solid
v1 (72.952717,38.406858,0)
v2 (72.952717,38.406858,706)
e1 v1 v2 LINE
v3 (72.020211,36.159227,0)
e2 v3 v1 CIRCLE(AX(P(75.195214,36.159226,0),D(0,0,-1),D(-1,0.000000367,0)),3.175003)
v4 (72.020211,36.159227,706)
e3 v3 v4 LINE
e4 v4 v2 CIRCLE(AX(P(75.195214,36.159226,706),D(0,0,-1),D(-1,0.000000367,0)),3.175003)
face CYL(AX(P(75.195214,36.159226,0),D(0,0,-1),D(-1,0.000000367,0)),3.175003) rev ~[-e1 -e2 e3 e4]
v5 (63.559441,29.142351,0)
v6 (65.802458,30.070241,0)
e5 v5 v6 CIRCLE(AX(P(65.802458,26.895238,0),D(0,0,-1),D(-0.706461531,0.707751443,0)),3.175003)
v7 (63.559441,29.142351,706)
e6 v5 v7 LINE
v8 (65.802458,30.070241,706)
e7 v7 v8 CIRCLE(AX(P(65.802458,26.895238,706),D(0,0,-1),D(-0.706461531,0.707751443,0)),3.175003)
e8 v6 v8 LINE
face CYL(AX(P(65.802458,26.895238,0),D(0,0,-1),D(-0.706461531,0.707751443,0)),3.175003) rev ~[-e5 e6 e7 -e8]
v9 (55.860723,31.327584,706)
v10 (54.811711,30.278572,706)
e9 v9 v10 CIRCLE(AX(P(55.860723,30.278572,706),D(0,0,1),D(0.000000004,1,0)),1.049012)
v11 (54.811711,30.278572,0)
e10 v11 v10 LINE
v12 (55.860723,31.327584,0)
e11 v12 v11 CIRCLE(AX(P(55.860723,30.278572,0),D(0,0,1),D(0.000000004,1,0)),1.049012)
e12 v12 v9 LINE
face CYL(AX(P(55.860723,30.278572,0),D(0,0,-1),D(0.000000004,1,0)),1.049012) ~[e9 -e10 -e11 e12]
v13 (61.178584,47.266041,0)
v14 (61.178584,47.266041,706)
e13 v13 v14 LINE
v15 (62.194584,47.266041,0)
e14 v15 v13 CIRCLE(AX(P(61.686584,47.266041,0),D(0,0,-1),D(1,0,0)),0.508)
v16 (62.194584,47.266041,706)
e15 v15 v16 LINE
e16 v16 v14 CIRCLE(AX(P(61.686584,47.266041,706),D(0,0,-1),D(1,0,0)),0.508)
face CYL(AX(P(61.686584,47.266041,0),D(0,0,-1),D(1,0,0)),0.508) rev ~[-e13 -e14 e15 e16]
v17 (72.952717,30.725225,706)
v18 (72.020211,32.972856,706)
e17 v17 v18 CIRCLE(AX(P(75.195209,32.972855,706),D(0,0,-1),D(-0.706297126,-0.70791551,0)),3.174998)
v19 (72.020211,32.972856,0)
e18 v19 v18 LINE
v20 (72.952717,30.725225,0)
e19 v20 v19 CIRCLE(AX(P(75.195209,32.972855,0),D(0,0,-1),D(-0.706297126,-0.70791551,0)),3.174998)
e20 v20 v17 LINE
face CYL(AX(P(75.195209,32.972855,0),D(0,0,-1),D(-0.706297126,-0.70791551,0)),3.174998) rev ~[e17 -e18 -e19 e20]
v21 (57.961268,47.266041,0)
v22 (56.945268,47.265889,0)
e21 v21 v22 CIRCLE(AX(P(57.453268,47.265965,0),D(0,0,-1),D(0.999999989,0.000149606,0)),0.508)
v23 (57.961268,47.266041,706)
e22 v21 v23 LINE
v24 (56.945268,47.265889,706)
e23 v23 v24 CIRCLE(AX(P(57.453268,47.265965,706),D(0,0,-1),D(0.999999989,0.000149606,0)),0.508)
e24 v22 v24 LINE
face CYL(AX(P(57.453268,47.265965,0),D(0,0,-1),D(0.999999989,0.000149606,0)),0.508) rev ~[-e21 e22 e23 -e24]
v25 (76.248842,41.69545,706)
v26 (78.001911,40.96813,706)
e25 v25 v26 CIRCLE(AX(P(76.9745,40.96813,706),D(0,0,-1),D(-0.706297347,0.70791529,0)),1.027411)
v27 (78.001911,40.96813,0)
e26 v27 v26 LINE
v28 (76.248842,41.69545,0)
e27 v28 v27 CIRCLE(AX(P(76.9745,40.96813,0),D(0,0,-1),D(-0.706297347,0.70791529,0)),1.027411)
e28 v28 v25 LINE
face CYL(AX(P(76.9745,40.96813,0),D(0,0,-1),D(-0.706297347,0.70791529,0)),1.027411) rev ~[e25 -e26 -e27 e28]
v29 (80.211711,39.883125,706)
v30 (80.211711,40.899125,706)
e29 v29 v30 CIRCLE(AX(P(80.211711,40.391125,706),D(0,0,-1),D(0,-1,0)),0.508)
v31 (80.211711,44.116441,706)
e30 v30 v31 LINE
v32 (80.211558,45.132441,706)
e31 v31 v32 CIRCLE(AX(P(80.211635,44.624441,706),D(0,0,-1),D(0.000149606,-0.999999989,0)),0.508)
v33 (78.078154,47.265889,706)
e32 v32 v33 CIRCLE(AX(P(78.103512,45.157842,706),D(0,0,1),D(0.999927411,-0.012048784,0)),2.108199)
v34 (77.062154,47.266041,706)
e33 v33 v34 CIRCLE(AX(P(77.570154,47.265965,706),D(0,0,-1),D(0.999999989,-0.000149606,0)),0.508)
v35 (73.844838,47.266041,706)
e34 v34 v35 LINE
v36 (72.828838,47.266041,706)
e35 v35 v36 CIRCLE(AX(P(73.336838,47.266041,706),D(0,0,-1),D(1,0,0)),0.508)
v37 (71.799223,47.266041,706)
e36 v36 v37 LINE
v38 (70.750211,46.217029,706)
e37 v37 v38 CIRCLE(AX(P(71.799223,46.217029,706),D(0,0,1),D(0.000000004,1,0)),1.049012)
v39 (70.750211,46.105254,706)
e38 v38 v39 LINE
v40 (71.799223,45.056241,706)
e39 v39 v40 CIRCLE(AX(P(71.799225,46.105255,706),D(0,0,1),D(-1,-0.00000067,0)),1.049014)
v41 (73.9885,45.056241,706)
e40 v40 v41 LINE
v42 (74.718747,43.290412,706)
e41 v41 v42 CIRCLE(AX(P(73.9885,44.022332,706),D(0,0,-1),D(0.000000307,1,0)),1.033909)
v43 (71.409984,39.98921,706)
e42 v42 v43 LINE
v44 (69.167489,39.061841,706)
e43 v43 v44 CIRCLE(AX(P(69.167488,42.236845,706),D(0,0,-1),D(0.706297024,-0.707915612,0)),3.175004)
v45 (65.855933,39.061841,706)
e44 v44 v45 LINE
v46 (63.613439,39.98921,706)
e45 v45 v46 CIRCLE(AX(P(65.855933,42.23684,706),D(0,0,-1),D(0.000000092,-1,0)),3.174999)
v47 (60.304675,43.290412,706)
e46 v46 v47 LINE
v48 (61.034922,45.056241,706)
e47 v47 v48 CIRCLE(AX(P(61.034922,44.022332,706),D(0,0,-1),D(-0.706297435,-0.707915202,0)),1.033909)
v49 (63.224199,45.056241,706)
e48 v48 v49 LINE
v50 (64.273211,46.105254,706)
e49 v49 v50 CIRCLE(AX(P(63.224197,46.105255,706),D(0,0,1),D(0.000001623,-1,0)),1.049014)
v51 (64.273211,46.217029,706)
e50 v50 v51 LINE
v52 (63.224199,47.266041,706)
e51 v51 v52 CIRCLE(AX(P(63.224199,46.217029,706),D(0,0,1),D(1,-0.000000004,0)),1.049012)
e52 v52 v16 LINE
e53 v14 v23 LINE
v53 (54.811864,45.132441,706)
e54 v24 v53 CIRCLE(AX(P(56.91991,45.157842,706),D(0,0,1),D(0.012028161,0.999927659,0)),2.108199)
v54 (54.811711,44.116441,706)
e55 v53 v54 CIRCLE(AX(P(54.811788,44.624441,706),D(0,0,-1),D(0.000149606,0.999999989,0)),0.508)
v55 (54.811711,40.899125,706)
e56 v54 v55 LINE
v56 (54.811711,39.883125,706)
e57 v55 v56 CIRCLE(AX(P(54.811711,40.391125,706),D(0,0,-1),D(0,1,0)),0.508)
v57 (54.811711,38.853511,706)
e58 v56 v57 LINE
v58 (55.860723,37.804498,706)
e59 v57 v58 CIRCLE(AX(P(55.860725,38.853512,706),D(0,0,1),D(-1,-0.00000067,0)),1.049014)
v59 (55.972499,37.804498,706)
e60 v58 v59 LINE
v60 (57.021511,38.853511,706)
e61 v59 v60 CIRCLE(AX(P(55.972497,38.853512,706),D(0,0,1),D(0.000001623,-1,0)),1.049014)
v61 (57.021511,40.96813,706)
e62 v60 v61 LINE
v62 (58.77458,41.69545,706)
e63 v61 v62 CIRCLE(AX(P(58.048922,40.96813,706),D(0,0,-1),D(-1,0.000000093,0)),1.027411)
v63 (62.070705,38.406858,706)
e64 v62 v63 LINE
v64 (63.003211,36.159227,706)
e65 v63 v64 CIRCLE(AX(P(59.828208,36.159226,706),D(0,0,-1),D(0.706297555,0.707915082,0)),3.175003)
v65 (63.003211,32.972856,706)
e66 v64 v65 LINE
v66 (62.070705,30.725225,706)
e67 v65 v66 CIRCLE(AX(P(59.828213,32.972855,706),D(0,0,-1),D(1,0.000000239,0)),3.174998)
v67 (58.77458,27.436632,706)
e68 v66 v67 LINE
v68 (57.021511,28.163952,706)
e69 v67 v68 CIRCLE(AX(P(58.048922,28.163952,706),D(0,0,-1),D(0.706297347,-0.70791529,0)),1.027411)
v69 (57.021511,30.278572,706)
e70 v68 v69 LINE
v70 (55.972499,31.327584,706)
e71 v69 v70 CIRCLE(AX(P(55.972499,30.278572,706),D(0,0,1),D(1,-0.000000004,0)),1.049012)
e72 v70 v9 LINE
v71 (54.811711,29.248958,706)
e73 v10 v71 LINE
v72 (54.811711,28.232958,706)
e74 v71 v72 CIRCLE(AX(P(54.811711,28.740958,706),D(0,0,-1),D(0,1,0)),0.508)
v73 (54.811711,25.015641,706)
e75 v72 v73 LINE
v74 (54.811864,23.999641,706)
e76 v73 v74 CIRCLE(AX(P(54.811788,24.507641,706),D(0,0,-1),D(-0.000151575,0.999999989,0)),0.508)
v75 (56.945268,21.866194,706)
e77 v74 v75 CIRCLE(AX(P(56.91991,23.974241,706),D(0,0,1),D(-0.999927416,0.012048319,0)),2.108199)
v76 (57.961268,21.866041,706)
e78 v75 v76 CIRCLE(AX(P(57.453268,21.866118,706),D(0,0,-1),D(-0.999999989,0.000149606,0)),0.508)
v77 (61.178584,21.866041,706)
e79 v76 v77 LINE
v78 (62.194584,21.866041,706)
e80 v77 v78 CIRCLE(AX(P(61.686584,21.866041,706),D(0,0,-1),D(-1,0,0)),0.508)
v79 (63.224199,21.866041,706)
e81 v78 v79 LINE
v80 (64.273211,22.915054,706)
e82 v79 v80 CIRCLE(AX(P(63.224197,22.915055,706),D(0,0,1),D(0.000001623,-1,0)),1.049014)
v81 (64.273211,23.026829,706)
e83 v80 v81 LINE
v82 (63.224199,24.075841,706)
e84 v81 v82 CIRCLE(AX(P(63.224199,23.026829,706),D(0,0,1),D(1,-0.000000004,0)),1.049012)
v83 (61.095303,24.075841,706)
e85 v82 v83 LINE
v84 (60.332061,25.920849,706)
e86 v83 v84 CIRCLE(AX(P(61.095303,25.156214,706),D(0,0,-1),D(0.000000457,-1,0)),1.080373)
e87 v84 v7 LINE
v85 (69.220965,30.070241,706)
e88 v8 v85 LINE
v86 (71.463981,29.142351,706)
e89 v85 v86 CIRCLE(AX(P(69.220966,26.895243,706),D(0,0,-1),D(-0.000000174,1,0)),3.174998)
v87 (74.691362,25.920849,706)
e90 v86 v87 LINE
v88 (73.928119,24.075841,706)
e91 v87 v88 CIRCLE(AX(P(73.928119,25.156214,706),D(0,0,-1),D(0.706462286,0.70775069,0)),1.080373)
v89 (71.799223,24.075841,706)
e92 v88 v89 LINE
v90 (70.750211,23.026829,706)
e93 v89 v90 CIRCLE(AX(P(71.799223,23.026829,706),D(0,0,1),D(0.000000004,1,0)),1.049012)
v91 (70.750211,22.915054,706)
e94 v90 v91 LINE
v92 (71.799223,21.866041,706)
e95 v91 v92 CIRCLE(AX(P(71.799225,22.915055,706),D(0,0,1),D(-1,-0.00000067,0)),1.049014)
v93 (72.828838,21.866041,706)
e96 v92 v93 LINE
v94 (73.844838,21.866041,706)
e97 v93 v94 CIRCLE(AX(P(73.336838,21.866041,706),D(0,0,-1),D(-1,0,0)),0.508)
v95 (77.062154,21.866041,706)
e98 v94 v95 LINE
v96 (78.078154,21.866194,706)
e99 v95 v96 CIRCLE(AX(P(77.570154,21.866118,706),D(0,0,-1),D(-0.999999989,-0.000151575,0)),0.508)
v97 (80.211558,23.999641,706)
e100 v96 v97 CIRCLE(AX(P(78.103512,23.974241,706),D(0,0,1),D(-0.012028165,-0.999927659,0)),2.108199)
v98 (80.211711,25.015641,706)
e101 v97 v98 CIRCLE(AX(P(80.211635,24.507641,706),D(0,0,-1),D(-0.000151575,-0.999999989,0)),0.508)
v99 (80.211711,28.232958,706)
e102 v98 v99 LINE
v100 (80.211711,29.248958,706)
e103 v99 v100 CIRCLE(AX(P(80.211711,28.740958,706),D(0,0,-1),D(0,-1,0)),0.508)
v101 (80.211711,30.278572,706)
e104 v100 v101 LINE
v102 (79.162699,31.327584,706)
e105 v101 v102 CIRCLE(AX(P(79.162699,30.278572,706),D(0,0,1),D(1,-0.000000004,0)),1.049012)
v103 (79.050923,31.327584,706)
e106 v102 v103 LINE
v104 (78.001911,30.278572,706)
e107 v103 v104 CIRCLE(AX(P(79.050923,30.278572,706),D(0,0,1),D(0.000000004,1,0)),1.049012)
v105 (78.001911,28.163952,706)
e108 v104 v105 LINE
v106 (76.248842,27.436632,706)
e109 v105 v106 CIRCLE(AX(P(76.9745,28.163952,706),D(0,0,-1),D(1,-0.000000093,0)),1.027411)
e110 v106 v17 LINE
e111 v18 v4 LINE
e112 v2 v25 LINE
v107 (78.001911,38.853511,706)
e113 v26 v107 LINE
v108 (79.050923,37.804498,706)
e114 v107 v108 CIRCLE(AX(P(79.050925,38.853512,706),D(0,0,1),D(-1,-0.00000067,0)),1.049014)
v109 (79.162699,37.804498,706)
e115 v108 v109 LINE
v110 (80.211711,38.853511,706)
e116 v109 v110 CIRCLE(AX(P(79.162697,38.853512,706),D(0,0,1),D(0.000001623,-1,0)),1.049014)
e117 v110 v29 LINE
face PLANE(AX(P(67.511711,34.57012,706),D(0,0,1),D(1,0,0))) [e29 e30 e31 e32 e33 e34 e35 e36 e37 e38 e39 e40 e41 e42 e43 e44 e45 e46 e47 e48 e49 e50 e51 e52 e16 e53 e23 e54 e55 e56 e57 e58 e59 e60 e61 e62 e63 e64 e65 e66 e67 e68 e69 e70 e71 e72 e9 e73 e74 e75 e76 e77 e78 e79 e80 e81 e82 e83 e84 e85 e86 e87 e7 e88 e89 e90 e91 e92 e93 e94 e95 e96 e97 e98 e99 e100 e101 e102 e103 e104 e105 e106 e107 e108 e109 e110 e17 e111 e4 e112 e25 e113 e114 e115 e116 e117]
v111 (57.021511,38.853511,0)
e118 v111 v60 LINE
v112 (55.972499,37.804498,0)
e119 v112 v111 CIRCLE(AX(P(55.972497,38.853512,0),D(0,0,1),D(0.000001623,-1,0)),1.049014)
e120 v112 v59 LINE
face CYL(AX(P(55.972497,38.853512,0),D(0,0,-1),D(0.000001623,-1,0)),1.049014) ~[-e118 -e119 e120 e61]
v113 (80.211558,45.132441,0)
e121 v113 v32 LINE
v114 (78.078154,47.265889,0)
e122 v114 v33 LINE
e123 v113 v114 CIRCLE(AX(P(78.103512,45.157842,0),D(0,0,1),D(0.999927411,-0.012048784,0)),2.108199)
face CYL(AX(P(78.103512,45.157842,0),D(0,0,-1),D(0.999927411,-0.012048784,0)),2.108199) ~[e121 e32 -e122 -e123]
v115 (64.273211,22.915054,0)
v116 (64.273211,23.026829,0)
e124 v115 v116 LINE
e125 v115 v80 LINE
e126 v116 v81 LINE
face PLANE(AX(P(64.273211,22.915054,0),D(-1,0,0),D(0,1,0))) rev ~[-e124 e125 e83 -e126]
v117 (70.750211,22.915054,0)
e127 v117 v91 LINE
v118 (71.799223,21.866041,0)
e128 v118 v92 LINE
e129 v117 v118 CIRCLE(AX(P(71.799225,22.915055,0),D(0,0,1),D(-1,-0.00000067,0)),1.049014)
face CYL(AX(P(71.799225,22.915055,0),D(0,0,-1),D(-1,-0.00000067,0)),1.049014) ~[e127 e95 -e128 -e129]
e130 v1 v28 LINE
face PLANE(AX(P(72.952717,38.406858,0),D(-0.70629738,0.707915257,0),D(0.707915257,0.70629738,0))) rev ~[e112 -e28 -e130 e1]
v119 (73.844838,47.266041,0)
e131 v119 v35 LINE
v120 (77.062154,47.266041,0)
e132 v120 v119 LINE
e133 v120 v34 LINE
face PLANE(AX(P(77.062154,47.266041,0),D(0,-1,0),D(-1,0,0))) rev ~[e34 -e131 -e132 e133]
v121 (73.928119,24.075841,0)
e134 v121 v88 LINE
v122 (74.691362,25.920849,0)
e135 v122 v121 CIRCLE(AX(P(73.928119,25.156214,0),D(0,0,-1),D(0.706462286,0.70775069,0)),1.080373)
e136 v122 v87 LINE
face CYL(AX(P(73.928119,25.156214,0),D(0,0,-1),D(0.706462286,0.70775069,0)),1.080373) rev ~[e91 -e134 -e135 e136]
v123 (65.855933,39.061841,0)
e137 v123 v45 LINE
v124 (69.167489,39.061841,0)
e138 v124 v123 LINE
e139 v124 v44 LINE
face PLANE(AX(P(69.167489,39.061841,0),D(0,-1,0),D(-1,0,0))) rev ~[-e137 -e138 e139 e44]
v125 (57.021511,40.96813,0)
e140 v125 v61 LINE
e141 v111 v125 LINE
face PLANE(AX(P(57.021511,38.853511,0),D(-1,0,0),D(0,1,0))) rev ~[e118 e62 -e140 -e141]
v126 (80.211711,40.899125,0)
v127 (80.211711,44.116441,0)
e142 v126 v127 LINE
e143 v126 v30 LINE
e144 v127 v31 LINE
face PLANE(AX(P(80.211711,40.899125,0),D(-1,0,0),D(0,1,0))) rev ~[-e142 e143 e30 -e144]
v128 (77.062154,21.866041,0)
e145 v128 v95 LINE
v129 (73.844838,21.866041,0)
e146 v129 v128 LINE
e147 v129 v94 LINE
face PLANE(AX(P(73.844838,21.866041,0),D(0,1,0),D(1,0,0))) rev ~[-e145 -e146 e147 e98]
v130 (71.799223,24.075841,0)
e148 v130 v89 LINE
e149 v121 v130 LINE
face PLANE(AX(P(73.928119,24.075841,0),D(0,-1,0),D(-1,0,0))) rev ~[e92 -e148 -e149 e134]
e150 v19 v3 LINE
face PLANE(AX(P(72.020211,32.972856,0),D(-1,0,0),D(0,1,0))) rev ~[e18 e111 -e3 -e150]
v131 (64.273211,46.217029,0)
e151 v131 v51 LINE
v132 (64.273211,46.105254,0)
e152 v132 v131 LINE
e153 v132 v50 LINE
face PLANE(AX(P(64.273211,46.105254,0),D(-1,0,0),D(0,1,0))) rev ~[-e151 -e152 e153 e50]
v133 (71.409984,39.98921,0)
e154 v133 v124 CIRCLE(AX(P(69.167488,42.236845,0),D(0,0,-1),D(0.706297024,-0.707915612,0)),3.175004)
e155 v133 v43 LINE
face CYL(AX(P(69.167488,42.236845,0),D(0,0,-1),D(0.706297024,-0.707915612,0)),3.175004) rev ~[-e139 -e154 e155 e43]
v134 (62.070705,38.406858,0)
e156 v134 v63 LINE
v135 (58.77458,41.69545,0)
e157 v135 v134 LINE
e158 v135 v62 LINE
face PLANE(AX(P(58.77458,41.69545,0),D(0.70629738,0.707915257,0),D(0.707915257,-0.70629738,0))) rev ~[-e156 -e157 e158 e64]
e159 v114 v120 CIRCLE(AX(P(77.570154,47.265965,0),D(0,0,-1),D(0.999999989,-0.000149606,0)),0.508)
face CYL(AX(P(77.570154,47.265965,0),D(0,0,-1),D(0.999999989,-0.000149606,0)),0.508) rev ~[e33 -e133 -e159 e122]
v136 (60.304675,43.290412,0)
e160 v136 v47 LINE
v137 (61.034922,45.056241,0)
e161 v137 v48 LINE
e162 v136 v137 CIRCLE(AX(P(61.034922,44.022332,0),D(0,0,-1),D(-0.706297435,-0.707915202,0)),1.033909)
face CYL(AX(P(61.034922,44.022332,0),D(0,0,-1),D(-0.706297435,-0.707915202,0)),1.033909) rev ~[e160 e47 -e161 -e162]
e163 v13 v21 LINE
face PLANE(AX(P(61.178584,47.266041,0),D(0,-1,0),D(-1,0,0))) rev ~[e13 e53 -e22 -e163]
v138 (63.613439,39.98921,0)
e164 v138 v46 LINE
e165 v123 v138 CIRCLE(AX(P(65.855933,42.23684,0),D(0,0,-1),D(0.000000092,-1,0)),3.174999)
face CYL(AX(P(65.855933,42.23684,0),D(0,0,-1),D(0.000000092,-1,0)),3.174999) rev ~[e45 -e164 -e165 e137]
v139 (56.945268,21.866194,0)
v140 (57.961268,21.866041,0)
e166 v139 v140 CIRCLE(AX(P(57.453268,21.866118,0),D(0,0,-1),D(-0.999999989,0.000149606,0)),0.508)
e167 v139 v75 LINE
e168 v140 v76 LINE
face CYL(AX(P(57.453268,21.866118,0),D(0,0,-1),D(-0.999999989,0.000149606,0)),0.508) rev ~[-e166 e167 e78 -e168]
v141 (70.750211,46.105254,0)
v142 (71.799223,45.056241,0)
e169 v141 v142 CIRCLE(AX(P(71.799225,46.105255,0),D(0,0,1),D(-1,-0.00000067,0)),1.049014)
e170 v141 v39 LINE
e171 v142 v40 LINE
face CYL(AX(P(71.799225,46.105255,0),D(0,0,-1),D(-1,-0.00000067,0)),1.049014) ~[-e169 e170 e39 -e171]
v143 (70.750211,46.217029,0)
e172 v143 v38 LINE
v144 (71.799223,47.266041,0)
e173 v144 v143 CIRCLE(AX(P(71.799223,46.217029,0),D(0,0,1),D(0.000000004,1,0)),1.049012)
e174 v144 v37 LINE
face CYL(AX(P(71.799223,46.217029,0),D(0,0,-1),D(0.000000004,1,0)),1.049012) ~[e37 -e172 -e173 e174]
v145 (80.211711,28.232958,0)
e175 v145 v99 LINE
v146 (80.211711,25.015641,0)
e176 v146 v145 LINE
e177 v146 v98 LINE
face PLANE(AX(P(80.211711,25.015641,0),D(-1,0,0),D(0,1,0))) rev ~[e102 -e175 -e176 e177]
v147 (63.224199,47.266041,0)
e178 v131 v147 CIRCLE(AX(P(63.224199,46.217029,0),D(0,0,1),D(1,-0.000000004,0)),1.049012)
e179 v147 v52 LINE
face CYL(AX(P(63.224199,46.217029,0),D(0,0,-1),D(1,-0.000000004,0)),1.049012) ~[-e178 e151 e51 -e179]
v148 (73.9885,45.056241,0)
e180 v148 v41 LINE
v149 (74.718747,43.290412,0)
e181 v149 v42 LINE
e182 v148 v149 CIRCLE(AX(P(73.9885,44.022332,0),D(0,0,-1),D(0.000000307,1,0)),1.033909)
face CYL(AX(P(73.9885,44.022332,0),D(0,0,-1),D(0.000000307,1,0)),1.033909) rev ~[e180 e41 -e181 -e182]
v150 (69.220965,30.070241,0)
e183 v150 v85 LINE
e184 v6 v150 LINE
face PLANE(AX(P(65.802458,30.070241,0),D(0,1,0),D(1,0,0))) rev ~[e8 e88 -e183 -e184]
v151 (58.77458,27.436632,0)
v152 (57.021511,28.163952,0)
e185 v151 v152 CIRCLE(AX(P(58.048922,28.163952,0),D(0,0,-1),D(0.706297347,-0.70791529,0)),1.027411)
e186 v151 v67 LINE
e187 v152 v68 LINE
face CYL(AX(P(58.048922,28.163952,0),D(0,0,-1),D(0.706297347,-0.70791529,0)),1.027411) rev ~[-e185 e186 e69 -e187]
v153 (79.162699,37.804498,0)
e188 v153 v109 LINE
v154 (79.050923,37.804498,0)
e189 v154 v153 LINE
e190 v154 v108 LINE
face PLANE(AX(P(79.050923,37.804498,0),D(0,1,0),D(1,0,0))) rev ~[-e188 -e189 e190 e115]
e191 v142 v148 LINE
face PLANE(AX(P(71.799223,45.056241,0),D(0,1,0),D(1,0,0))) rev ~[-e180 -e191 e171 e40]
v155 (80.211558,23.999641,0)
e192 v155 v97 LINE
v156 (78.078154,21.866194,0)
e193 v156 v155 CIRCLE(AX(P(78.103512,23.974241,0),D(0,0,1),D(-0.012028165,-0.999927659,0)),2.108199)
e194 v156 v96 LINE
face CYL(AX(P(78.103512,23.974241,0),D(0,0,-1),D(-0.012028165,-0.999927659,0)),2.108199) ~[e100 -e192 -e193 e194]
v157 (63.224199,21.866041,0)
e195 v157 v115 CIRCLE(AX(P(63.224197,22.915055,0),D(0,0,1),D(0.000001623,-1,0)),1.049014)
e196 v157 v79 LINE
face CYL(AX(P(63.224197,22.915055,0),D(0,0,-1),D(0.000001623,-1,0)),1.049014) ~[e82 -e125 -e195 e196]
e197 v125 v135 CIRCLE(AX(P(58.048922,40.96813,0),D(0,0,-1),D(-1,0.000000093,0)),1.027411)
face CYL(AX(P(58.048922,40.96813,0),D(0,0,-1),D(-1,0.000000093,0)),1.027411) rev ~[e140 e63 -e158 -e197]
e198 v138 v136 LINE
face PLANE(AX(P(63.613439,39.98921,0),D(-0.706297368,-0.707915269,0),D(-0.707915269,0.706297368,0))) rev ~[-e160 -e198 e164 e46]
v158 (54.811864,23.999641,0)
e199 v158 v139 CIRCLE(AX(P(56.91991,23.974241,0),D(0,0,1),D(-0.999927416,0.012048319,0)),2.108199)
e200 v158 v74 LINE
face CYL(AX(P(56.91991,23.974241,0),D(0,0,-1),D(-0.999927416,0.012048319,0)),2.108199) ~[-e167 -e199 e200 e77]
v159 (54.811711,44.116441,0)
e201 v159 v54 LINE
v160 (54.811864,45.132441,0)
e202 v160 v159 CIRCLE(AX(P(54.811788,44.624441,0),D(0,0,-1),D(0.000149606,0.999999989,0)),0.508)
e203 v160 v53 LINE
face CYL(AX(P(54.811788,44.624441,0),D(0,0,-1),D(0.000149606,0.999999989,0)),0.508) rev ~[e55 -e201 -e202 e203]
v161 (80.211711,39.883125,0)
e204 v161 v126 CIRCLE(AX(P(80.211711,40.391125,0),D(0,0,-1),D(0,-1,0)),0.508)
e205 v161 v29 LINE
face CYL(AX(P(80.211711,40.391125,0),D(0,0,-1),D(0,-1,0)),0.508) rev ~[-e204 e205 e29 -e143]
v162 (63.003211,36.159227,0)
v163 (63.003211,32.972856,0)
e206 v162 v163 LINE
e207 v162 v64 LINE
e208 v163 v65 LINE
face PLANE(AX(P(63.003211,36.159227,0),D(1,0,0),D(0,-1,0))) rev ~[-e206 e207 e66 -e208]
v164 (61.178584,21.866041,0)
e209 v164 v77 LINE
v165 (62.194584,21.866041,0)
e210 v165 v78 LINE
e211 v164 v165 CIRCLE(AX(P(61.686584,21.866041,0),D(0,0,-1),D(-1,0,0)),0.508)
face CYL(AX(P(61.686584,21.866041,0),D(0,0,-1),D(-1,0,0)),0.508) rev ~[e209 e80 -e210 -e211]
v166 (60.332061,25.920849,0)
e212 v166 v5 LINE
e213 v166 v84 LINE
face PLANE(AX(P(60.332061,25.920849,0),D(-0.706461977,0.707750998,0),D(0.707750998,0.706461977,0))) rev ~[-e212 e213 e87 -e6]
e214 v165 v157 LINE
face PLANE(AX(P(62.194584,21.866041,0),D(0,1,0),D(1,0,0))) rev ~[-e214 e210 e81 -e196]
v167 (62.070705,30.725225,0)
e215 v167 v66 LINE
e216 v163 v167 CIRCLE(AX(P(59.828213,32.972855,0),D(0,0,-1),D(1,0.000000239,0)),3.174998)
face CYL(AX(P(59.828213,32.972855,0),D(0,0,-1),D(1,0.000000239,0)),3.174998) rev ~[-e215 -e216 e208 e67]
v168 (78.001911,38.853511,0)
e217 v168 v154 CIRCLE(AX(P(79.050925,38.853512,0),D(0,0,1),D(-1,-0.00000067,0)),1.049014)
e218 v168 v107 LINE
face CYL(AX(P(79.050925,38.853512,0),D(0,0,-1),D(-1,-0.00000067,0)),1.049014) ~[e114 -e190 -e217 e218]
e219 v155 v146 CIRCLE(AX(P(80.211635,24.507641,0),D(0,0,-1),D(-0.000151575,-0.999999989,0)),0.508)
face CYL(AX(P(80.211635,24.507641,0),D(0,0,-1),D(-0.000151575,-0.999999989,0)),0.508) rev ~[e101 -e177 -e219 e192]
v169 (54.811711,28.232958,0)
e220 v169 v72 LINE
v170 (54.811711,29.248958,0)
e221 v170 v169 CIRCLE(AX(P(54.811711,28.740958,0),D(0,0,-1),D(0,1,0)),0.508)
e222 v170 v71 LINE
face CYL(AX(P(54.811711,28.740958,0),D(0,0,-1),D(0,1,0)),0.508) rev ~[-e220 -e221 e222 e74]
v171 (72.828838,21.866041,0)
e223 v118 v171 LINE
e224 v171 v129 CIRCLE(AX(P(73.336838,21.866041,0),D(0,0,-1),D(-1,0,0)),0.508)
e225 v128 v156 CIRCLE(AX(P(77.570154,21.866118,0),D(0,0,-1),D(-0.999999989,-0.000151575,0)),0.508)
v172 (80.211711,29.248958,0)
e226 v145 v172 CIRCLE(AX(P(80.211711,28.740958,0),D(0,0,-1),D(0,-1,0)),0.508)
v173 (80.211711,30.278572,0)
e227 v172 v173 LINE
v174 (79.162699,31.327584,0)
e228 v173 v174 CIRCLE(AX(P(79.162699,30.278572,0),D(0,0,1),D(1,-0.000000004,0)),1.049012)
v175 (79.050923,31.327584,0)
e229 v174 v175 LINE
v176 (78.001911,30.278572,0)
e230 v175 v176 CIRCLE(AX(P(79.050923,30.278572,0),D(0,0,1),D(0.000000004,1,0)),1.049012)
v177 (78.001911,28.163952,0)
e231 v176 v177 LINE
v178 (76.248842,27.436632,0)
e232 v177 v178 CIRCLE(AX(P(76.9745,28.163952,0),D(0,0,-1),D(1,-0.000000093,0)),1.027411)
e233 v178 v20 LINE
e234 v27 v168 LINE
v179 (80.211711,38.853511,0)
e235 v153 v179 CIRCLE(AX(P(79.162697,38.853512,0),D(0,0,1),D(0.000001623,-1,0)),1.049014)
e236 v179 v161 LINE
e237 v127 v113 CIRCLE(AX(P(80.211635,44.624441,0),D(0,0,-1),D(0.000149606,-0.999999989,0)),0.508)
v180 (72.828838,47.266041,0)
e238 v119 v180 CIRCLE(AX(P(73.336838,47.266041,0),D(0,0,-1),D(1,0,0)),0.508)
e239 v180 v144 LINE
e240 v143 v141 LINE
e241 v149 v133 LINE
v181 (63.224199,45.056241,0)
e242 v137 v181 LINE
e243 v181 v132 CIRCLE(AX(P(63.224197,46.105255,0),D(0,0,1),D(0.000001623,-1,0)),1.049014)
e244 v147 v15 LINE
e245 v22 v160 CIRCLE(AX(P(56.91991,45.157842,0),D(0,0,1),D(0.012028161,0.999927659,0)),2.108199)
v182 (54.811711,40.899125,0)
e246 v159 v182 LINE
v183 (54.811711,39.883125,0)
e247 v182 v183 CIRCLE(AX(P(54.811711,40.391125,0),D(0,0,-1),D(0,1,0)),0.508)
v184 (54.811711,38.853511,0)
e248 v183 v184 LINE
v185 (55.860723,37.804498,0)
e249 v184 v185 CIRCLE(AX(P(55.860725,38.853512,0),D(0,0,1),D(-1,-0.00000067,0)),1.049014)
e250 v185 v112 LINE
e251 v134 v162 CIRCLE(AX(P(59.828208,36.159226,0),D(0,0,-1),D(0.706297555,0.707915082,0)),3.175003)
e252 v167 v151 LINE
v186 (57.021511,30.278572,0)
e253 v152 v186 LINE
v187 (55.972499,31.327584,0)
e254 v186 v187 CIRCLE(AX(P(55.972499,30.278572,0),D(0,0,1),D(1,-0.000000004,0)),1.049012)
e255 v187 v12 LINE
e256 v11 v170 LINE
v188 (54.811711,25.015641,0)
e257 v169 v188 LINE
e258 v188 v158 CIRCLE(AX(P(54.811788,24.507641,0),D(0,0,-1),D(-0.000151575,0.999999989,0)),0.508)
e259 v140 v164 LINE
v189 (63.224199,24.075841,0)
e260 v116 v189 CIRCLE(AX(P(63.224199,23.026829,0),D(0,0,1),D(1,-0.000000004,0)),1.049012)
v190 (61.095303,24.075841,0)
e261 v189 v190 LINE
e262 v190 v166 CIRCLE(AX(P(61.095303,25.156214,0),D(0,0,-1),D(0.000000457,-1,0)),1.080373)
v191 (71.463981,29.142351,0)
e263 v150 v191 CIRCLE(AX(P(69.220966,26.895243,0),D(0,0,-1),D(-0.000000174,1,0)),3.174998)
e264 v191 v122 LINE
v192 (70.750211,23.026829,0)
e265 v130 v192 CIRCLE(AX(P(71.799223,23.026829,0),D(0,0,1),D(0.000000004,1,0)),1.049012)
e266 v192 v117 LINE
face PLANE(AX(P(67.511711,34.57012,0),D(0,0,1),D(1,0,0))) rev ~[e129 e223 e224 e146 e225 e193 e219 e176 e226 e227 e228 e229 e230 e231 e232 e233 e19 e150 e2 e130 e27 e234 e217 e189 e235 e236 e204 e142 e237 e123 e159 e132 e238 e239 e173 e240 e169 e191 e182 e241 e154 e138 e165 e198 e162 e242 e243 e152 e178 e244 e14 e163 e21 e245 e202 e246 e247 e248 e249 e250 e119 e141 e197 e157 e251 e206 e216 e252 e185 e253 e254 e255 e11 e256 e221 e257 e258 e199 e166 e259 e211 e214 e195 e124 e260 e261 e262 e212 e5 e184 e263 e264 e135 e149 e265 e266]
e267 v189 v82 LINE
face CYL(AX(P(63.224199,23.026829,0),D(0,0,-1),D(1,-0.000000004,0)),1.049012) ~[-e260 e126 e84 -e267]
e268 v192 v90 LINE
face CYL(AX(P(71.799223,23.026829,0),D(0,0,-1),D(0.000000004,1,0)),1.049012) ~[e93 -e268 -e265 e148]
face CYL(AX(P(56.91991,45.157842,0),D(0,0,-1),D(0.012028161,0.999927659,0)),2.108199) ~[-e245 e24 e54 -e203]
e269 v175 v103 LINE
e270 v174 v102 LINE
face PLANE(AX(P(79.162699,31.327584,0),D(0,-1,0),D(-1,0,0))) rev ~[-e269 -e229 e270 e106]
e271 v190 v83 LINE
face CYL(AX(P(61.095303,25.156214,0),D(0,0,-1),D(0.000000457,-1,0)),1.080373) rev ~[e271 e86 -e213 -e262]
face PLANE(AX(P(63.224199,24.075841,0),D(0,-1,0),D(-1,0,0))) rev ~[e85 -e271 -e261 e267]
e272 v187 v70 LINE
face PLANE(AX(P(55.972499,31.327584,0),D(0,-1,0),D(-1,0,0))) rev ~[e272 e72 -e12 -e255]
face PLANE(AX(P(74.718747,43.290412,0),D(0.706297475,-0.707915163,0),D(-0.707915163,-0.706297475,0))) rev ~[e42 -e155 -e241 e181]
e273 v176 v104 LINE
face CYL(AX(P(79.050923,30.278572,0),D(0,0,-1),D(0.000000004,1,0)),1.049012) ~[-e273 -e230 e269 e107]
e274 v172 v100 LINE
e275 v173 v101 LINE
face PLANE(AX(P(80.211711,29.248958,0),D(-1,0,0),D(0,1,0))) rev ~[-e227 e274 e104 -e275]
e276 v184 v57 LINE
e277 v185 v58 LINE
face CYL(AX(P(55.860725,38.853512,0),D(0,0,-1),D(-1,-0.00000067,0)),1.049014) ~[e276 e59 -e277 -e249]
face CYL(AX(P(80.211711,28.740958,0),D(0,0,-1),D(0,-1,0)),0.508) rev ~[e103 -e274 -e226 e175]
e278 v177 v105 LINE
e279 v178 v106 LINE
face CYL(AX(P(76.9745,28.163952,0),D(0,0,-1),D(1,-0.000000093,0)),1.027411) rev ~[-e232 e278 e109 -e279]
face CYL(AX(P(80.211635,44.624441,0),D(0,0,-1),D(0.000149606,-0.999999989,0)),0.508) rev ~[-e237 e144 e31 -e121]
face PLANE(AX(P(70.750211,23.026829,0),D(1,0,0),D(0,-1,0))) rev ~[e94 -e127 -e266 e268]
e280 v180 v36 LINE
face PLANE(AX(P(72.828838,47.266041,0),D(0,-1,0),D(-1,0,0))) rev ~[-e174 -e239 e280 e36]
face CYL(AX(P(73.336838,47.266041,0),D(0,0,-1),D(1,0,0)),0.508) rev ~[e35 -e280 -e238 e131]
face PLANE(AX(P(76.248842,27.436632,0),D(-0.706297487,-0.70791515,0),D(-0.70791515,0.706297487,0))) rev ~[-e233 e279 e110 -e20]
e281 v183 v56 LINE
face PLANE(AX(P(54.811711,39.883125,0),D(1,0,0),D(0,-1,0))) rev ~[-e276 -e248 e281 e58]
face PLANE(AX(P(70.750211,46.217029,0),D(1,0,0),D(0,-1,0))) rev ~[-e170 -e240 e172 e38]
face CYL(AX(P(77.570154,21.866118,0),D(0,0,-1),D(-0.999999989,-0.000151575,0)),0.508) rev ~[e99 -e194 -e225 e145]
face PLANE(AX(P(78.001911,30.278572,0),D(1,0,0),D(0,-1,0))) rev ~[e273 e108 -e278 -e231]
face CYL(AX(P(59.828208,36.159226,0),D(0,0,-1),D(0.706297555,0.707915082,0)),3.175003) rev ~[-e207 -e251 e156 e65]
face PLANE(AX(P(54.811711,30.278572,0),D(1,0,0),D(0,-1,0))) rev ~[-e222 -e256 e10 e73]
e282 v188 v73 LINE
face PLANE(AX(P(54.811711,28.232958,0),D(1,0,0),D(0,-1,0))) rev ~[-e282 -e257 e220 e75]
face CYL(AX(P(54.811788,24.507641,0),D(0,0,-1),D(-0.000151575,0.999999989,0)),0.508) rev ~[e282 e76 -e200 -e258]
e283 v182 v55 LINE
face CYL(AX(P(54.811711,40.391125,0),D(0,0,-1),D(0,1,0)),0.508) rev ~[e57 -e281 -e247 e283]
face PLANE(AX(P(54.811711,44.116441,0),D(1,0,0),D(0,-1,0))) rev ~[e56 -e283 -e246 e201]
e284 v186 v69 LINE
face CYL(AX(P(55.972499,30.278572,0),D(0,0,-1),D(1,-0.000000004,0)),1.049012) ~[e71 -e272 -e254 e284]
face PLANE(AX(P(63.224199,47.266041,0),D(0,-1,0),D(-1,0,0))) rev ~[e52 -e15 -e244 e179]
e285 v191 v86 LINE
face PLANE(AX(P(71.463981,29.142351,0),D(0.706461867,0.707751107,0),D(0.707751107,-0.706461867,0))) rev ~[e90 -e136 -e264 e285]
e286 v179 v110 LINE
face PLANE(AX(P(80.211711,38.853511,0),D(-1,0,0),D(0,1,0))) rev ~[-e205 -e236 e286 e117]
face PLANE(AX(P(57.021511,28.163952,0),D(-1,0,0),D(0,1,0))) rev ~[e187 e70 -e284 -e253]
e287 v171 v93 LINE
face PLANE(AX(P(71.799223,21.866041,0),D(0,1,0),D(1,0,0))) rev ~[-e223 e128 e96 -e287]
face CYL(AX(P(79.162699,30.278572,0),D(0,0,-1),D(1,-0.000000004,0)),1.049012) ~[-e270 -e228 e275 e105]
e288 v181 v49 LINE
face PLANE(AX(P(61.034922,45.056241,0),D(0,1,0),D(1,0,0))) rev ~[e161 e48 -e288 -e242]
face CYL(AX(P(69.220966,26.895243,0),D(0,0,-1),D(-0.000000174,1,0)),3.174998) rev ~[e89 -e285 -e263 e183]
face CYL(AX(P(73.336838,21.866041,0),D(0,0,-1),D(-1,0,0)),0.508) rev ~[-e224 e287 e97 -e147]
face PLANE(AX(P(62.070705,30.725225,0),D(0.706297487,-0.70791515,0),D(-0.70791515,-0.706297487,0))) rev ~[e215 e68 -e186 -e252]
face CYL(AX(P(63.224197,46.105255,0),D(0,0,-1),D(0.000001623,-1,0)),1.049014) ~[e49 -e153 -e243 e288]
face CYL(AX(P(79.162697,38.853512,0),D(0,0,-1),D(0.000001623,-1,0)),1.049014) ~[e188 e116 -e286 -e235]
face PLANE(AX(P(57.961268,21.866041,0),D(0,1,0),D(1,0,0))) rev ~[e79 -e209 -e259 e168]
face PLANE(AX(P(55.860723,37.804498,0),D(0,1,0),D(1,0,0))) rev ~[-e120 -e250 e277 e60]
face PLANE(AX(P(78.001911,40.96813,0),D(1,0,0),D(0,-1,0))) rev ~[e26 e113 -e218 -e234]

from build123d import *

# Parameters (mm, degrees)
F1_DEPTH = 706


with BuildPart() as f1:
    # F0 (on Top) → F1 (new body)
    with BuildSketch(Plane.XY):
        with BuildLine():
            ThreePointArc((57.021511, 40.96813), (57.655206, 41.917109), (58.77458, 41.69545))
            Line((58.77458, 41.69545), (62.070705, 38.406858))
            ThreePointArc((62.070705, 38.406858), (62.760833, 37.375924), (63.003211, 36.159227))
            Line((63.003211, 36.159227), (63.003211, 32.972856))
            ThreePointArc((63.003211, 32.972856), (62.760833, 31.756158), (62.070705, 30.725225))
            Line((62.070705, 30.725225), (58.77458, 27.436632))
            ThreePointArc((58.77458, 27.436632), (57.655206, 27.214973), (57.021511, 28.163952))
            Line((57.021511, 28.163952), (57.021511, 30.278572))
            ThreePointArc((57.021511, 30.278572), (56.714262, 31.020336), (55.972499, 31.327584))
            Line((55.972499, 31.327584), (55.860723, 31.327584))
            ThreePointArc((55.860723, 31.327584), (55.11896, 31.020336), (54.811711, 30.278572))
            Line((54.811711, 30.278572), (54.811711, 29.248958))
            ThreePointArc((54.811711, 29.248958), (55.319711, 28.740958), (54.811711, 28.232958))
            Line((54.811711, 28.232958), (54.811711, 25.015641))
            ThreePointArc((54.811711, 25.015641), (55.319788, 24.507718), (54.811864, 23.999641))
            ThreePointArc((54.811864, 23.999641), (55.429173, 22.483534), (56.945268, 21.866194))
            ThreePointArc((56.945268, 21.866194), (57.453344, 22.374118), (57.961268, 21.866041))
            Line((57.961268, 21.866041), (61.178584, 21.866041))
            ThreePointArc((61.178584, 21.866041), (61.686584, 22.374041), (62.194584, 21.866041))
            Line((62.194584, 21.866041), (63.224199, 21.866041))
            ThreePointArc((63.224199, 21.866041), (63.965962, 22.17329), (64.273211, 22.915054))
            Line((64.273211, 22.915054), (64.273211, 23.026829))
            ThreePointArc((64.273211, 23.026829), (63.965962, 23.768593), (63.224199, 24.075841))
            Line((63.224199, 24.075841), (61.095303, 24.075841))
            ThreePointArc((61.095303, 24.075841), (60.09698, 24.743228), (60.332061, 25.920849))
            Line((60.332061, 25.920849), (63.559441, 29.142351))
            ThreePointArc((63.559441, 29.142351), (64.588775, 29.829112), (65.802458, 30.070241))
            Line((65.802458, 30.070241), (69.220965, 30.070241))
            ThreePointArc((69.220965, 30.070241), (70.434648, 29.829112), (71.463981, 29.142351))
            Line((71.463981, 29.142351), (74.691362, 25.920849))
            ThreePointArc((74.691362, 25.920849), (74.926442, 24.743228), (73.928119, 24.075841))
            Line((73.928119, 24.075841), (71.799223, 24.075841))
            ThreePointArc((71.799223, 24.075841), (71.05746, 23.768593), (70.750211, 23.026829))
            Line((70.750211, 23.026829), (70.750211, 22.915054))
            ThreePointArc((70.750211, 22.915054), (71.05746, 22.17329), (71.799223, 21.866041))
            Line((71.799223, 21.866041), (72.828838, 21.866041))
            ThreePointArc((72.828838, 21.866041), (73.336838, 22.374041), (73.844838, 21.866041))
            Line((73.844838, 21.866041), (77.062154, 21.866041))
            ThreePointArc((77.062154, 21.866041), (77.570078, 22.374118), (78.078154, 21.866194))
            ThreePointArc((78.078154, 21.866194), (79.594249, 22.483534), (80.211558, 23.999641))
            ThreePointArc((80.211558, 23.999641), (79.703635, 24.507718), (80.211711, 25.015641))
            Line((80.211711, 25.015641), (80.211711, 28.232958))
            ThreePointArc((80.211711, 28.232958), (79.703711, 28.740958), (80.211711, 29.248958))
            Line((80.211711, 29.248958), (80.211711, 30.278572))
            ThreePointArc((80.211711, 30.278572), (79.904462, 31.020336), (79.162699, 31.327584))
            Line((79.162699, 31.327584), (79.050923, 31.327584))
            ThreePointArc((79.050923, 31.327584), (78.30916, 31.020336), (78.001911, 30.278572))
            Line((78.001911, 30.278572), (78.001911, 28.163952))
            ThreePointArc((78.001911, 28.163952), (77.368216, 27.214973), (76.248842, 27.436632))
            Line((76.248842, 27.436632), (72.952717, 30.725225))
            ThreePointArc((72.952717, 30.725225), (72.262589, 31.756158), (72.020211, 32.972856))
            Line((72.020211, 32.972856), (72.020211, 36.159227))
            ThreePointArc((72.020211, 36.159227), (72.262589, 37.375924), (72.952717, 38.406858))
            Line((72.952717, 38.406858), (76.248842, 41.69545))
            ThreePointArc((76.248842, 41.69545), (77.368216, 41.917109), (78.001911, 40.96813))
            Line((78.001911, 40.96813), (78.001911, 38.853511))
            ThreePointArc((78.001911, 38.853511), (78.30916, 38.111747), (79.050923, 37.804498))
            Line((79.050923, 37.804498), (79.162699, 37.804498))
            ThreePointArc((79.162699, 37.804498), (79.904462, 38.111747), (80.211711, 38.853511))
            Line((80.211711, 38.853511), (80.211711, 39.883125))
            ThreePointArc((80.211711, 39.883125), (79.703711, 40.391125), (80.211711, 40.899125))
            Line((80.211711, 40.899125), (80.211711, 44.116441))
            ThreePointArc((80.211711, 44.116441), (79.703635, 44.624365), (80.211558, 45.132441))
            ThreePointArc((80.211558, 45.132441), (79.594249, 46.648549), (78.078154, 47.265889))
            ThreePointArc((78.078154, 47.265889), (77.570078, 46.757965), (77.062154, 47.266041))
            Line((77.062154, 47.266041), (73.844838, 47.266041))
            ThreePointArc((73.844838, 47.266041), (73.336838, 46.758041), (72.828838, 47.266041))
            Line((72.828838, 47.266041), (71.799223, 47.266041))
            ThreePointArc((71.799223, 47.266041), (71.05746, 46.958793), (70.750211, 46.217029))
            Line((70.750211, 46.217029), (70.750211, 46.105254))
            ThreePointArc((70.750211, 46.105254), (71.05746, 45.36349), (71.799223, 45.056241))
            Line((71.799223, 45.056241), (73.9885, 45.056241))
            ThreePointArc((73.9885, 45.056241), (74.943933, 44.417446), (74.718747, 43.290412))
            Line((74.718747, 43.290412), (71.409984, 39.98921))
            ThreePointArc((71.409984, 39.98921), (70.380831, 39.302829), (69.167489, 39.061841))
            Line((69.167489, 39.061841), (65.855933, 39.061841))
            ThreePointArc((65.855933, 39.061841), (64.642591, 39.302829), (63.613439, 39.98921))
            Line((63.613439, 39.98921), (60.304675, 43.290412))
            ThreePointArc((60.304675, 43.290412), (60.079489, 44.417446), (61.034922, 45.056241))
            Line((61.034922, 45.056241), (63.224199, 45.056241))
            ThreePointArc((63.224199, 45.056241), (63.965962, 45.36349), (64.273211, 46.105254))
            Line((64.273211, 46.105254), (64.273211, 46.217029))
            ThreePointArc((64.273211, 46.217029), (63.965962, 46.958793), (63.224199, 47.266041))
            Line((63.224199, 47.266041), (62.194584, 47.266041))
            ThreePointArc((62.194584, 47.266041), (61.686584, 46.758041), (61.178584, 47.266041))
            Line((61.178584, 47.266041), (57.961268, 47.266041))
            ThreePointArc((57.961268, 47.266041), (57.453344, 46.757965), (56.945268, 47.265889))
            ThreePointArc((56.945268, 47.265889), (55.429173, 46.648549), (54.811864, 45.132441))
            ThreePointArc((54.811864, 45.132441), (55.319788, 44.624365), (54.811711, 44.116441))
            Line((54.811711, 44.116441), (54.811711, 40.899125))
            ThreePointArc((54.811711, 40.899125), (55.319711, 40.391125), (54.811711, 39.883125))
            Line((54.811711, 39.883125), (54.811711, 38.853511))
            ThreePointArc((54.811711, 38.853511), (55.11896, 38.111747), (55.860723, 37.804498))
            Line((55.860723, 37.804498), (55.972499, 37.804498))
            ThreePointArc((55.972499, 37.804498), (56.714262, 38.111747), (57.021511, 38.853511))
            Line((57.021511, 38.853511), (57.021511, 40.96813))
        make_face()
    extrude(amount=F1_DEPTH)


solid = f1.part
